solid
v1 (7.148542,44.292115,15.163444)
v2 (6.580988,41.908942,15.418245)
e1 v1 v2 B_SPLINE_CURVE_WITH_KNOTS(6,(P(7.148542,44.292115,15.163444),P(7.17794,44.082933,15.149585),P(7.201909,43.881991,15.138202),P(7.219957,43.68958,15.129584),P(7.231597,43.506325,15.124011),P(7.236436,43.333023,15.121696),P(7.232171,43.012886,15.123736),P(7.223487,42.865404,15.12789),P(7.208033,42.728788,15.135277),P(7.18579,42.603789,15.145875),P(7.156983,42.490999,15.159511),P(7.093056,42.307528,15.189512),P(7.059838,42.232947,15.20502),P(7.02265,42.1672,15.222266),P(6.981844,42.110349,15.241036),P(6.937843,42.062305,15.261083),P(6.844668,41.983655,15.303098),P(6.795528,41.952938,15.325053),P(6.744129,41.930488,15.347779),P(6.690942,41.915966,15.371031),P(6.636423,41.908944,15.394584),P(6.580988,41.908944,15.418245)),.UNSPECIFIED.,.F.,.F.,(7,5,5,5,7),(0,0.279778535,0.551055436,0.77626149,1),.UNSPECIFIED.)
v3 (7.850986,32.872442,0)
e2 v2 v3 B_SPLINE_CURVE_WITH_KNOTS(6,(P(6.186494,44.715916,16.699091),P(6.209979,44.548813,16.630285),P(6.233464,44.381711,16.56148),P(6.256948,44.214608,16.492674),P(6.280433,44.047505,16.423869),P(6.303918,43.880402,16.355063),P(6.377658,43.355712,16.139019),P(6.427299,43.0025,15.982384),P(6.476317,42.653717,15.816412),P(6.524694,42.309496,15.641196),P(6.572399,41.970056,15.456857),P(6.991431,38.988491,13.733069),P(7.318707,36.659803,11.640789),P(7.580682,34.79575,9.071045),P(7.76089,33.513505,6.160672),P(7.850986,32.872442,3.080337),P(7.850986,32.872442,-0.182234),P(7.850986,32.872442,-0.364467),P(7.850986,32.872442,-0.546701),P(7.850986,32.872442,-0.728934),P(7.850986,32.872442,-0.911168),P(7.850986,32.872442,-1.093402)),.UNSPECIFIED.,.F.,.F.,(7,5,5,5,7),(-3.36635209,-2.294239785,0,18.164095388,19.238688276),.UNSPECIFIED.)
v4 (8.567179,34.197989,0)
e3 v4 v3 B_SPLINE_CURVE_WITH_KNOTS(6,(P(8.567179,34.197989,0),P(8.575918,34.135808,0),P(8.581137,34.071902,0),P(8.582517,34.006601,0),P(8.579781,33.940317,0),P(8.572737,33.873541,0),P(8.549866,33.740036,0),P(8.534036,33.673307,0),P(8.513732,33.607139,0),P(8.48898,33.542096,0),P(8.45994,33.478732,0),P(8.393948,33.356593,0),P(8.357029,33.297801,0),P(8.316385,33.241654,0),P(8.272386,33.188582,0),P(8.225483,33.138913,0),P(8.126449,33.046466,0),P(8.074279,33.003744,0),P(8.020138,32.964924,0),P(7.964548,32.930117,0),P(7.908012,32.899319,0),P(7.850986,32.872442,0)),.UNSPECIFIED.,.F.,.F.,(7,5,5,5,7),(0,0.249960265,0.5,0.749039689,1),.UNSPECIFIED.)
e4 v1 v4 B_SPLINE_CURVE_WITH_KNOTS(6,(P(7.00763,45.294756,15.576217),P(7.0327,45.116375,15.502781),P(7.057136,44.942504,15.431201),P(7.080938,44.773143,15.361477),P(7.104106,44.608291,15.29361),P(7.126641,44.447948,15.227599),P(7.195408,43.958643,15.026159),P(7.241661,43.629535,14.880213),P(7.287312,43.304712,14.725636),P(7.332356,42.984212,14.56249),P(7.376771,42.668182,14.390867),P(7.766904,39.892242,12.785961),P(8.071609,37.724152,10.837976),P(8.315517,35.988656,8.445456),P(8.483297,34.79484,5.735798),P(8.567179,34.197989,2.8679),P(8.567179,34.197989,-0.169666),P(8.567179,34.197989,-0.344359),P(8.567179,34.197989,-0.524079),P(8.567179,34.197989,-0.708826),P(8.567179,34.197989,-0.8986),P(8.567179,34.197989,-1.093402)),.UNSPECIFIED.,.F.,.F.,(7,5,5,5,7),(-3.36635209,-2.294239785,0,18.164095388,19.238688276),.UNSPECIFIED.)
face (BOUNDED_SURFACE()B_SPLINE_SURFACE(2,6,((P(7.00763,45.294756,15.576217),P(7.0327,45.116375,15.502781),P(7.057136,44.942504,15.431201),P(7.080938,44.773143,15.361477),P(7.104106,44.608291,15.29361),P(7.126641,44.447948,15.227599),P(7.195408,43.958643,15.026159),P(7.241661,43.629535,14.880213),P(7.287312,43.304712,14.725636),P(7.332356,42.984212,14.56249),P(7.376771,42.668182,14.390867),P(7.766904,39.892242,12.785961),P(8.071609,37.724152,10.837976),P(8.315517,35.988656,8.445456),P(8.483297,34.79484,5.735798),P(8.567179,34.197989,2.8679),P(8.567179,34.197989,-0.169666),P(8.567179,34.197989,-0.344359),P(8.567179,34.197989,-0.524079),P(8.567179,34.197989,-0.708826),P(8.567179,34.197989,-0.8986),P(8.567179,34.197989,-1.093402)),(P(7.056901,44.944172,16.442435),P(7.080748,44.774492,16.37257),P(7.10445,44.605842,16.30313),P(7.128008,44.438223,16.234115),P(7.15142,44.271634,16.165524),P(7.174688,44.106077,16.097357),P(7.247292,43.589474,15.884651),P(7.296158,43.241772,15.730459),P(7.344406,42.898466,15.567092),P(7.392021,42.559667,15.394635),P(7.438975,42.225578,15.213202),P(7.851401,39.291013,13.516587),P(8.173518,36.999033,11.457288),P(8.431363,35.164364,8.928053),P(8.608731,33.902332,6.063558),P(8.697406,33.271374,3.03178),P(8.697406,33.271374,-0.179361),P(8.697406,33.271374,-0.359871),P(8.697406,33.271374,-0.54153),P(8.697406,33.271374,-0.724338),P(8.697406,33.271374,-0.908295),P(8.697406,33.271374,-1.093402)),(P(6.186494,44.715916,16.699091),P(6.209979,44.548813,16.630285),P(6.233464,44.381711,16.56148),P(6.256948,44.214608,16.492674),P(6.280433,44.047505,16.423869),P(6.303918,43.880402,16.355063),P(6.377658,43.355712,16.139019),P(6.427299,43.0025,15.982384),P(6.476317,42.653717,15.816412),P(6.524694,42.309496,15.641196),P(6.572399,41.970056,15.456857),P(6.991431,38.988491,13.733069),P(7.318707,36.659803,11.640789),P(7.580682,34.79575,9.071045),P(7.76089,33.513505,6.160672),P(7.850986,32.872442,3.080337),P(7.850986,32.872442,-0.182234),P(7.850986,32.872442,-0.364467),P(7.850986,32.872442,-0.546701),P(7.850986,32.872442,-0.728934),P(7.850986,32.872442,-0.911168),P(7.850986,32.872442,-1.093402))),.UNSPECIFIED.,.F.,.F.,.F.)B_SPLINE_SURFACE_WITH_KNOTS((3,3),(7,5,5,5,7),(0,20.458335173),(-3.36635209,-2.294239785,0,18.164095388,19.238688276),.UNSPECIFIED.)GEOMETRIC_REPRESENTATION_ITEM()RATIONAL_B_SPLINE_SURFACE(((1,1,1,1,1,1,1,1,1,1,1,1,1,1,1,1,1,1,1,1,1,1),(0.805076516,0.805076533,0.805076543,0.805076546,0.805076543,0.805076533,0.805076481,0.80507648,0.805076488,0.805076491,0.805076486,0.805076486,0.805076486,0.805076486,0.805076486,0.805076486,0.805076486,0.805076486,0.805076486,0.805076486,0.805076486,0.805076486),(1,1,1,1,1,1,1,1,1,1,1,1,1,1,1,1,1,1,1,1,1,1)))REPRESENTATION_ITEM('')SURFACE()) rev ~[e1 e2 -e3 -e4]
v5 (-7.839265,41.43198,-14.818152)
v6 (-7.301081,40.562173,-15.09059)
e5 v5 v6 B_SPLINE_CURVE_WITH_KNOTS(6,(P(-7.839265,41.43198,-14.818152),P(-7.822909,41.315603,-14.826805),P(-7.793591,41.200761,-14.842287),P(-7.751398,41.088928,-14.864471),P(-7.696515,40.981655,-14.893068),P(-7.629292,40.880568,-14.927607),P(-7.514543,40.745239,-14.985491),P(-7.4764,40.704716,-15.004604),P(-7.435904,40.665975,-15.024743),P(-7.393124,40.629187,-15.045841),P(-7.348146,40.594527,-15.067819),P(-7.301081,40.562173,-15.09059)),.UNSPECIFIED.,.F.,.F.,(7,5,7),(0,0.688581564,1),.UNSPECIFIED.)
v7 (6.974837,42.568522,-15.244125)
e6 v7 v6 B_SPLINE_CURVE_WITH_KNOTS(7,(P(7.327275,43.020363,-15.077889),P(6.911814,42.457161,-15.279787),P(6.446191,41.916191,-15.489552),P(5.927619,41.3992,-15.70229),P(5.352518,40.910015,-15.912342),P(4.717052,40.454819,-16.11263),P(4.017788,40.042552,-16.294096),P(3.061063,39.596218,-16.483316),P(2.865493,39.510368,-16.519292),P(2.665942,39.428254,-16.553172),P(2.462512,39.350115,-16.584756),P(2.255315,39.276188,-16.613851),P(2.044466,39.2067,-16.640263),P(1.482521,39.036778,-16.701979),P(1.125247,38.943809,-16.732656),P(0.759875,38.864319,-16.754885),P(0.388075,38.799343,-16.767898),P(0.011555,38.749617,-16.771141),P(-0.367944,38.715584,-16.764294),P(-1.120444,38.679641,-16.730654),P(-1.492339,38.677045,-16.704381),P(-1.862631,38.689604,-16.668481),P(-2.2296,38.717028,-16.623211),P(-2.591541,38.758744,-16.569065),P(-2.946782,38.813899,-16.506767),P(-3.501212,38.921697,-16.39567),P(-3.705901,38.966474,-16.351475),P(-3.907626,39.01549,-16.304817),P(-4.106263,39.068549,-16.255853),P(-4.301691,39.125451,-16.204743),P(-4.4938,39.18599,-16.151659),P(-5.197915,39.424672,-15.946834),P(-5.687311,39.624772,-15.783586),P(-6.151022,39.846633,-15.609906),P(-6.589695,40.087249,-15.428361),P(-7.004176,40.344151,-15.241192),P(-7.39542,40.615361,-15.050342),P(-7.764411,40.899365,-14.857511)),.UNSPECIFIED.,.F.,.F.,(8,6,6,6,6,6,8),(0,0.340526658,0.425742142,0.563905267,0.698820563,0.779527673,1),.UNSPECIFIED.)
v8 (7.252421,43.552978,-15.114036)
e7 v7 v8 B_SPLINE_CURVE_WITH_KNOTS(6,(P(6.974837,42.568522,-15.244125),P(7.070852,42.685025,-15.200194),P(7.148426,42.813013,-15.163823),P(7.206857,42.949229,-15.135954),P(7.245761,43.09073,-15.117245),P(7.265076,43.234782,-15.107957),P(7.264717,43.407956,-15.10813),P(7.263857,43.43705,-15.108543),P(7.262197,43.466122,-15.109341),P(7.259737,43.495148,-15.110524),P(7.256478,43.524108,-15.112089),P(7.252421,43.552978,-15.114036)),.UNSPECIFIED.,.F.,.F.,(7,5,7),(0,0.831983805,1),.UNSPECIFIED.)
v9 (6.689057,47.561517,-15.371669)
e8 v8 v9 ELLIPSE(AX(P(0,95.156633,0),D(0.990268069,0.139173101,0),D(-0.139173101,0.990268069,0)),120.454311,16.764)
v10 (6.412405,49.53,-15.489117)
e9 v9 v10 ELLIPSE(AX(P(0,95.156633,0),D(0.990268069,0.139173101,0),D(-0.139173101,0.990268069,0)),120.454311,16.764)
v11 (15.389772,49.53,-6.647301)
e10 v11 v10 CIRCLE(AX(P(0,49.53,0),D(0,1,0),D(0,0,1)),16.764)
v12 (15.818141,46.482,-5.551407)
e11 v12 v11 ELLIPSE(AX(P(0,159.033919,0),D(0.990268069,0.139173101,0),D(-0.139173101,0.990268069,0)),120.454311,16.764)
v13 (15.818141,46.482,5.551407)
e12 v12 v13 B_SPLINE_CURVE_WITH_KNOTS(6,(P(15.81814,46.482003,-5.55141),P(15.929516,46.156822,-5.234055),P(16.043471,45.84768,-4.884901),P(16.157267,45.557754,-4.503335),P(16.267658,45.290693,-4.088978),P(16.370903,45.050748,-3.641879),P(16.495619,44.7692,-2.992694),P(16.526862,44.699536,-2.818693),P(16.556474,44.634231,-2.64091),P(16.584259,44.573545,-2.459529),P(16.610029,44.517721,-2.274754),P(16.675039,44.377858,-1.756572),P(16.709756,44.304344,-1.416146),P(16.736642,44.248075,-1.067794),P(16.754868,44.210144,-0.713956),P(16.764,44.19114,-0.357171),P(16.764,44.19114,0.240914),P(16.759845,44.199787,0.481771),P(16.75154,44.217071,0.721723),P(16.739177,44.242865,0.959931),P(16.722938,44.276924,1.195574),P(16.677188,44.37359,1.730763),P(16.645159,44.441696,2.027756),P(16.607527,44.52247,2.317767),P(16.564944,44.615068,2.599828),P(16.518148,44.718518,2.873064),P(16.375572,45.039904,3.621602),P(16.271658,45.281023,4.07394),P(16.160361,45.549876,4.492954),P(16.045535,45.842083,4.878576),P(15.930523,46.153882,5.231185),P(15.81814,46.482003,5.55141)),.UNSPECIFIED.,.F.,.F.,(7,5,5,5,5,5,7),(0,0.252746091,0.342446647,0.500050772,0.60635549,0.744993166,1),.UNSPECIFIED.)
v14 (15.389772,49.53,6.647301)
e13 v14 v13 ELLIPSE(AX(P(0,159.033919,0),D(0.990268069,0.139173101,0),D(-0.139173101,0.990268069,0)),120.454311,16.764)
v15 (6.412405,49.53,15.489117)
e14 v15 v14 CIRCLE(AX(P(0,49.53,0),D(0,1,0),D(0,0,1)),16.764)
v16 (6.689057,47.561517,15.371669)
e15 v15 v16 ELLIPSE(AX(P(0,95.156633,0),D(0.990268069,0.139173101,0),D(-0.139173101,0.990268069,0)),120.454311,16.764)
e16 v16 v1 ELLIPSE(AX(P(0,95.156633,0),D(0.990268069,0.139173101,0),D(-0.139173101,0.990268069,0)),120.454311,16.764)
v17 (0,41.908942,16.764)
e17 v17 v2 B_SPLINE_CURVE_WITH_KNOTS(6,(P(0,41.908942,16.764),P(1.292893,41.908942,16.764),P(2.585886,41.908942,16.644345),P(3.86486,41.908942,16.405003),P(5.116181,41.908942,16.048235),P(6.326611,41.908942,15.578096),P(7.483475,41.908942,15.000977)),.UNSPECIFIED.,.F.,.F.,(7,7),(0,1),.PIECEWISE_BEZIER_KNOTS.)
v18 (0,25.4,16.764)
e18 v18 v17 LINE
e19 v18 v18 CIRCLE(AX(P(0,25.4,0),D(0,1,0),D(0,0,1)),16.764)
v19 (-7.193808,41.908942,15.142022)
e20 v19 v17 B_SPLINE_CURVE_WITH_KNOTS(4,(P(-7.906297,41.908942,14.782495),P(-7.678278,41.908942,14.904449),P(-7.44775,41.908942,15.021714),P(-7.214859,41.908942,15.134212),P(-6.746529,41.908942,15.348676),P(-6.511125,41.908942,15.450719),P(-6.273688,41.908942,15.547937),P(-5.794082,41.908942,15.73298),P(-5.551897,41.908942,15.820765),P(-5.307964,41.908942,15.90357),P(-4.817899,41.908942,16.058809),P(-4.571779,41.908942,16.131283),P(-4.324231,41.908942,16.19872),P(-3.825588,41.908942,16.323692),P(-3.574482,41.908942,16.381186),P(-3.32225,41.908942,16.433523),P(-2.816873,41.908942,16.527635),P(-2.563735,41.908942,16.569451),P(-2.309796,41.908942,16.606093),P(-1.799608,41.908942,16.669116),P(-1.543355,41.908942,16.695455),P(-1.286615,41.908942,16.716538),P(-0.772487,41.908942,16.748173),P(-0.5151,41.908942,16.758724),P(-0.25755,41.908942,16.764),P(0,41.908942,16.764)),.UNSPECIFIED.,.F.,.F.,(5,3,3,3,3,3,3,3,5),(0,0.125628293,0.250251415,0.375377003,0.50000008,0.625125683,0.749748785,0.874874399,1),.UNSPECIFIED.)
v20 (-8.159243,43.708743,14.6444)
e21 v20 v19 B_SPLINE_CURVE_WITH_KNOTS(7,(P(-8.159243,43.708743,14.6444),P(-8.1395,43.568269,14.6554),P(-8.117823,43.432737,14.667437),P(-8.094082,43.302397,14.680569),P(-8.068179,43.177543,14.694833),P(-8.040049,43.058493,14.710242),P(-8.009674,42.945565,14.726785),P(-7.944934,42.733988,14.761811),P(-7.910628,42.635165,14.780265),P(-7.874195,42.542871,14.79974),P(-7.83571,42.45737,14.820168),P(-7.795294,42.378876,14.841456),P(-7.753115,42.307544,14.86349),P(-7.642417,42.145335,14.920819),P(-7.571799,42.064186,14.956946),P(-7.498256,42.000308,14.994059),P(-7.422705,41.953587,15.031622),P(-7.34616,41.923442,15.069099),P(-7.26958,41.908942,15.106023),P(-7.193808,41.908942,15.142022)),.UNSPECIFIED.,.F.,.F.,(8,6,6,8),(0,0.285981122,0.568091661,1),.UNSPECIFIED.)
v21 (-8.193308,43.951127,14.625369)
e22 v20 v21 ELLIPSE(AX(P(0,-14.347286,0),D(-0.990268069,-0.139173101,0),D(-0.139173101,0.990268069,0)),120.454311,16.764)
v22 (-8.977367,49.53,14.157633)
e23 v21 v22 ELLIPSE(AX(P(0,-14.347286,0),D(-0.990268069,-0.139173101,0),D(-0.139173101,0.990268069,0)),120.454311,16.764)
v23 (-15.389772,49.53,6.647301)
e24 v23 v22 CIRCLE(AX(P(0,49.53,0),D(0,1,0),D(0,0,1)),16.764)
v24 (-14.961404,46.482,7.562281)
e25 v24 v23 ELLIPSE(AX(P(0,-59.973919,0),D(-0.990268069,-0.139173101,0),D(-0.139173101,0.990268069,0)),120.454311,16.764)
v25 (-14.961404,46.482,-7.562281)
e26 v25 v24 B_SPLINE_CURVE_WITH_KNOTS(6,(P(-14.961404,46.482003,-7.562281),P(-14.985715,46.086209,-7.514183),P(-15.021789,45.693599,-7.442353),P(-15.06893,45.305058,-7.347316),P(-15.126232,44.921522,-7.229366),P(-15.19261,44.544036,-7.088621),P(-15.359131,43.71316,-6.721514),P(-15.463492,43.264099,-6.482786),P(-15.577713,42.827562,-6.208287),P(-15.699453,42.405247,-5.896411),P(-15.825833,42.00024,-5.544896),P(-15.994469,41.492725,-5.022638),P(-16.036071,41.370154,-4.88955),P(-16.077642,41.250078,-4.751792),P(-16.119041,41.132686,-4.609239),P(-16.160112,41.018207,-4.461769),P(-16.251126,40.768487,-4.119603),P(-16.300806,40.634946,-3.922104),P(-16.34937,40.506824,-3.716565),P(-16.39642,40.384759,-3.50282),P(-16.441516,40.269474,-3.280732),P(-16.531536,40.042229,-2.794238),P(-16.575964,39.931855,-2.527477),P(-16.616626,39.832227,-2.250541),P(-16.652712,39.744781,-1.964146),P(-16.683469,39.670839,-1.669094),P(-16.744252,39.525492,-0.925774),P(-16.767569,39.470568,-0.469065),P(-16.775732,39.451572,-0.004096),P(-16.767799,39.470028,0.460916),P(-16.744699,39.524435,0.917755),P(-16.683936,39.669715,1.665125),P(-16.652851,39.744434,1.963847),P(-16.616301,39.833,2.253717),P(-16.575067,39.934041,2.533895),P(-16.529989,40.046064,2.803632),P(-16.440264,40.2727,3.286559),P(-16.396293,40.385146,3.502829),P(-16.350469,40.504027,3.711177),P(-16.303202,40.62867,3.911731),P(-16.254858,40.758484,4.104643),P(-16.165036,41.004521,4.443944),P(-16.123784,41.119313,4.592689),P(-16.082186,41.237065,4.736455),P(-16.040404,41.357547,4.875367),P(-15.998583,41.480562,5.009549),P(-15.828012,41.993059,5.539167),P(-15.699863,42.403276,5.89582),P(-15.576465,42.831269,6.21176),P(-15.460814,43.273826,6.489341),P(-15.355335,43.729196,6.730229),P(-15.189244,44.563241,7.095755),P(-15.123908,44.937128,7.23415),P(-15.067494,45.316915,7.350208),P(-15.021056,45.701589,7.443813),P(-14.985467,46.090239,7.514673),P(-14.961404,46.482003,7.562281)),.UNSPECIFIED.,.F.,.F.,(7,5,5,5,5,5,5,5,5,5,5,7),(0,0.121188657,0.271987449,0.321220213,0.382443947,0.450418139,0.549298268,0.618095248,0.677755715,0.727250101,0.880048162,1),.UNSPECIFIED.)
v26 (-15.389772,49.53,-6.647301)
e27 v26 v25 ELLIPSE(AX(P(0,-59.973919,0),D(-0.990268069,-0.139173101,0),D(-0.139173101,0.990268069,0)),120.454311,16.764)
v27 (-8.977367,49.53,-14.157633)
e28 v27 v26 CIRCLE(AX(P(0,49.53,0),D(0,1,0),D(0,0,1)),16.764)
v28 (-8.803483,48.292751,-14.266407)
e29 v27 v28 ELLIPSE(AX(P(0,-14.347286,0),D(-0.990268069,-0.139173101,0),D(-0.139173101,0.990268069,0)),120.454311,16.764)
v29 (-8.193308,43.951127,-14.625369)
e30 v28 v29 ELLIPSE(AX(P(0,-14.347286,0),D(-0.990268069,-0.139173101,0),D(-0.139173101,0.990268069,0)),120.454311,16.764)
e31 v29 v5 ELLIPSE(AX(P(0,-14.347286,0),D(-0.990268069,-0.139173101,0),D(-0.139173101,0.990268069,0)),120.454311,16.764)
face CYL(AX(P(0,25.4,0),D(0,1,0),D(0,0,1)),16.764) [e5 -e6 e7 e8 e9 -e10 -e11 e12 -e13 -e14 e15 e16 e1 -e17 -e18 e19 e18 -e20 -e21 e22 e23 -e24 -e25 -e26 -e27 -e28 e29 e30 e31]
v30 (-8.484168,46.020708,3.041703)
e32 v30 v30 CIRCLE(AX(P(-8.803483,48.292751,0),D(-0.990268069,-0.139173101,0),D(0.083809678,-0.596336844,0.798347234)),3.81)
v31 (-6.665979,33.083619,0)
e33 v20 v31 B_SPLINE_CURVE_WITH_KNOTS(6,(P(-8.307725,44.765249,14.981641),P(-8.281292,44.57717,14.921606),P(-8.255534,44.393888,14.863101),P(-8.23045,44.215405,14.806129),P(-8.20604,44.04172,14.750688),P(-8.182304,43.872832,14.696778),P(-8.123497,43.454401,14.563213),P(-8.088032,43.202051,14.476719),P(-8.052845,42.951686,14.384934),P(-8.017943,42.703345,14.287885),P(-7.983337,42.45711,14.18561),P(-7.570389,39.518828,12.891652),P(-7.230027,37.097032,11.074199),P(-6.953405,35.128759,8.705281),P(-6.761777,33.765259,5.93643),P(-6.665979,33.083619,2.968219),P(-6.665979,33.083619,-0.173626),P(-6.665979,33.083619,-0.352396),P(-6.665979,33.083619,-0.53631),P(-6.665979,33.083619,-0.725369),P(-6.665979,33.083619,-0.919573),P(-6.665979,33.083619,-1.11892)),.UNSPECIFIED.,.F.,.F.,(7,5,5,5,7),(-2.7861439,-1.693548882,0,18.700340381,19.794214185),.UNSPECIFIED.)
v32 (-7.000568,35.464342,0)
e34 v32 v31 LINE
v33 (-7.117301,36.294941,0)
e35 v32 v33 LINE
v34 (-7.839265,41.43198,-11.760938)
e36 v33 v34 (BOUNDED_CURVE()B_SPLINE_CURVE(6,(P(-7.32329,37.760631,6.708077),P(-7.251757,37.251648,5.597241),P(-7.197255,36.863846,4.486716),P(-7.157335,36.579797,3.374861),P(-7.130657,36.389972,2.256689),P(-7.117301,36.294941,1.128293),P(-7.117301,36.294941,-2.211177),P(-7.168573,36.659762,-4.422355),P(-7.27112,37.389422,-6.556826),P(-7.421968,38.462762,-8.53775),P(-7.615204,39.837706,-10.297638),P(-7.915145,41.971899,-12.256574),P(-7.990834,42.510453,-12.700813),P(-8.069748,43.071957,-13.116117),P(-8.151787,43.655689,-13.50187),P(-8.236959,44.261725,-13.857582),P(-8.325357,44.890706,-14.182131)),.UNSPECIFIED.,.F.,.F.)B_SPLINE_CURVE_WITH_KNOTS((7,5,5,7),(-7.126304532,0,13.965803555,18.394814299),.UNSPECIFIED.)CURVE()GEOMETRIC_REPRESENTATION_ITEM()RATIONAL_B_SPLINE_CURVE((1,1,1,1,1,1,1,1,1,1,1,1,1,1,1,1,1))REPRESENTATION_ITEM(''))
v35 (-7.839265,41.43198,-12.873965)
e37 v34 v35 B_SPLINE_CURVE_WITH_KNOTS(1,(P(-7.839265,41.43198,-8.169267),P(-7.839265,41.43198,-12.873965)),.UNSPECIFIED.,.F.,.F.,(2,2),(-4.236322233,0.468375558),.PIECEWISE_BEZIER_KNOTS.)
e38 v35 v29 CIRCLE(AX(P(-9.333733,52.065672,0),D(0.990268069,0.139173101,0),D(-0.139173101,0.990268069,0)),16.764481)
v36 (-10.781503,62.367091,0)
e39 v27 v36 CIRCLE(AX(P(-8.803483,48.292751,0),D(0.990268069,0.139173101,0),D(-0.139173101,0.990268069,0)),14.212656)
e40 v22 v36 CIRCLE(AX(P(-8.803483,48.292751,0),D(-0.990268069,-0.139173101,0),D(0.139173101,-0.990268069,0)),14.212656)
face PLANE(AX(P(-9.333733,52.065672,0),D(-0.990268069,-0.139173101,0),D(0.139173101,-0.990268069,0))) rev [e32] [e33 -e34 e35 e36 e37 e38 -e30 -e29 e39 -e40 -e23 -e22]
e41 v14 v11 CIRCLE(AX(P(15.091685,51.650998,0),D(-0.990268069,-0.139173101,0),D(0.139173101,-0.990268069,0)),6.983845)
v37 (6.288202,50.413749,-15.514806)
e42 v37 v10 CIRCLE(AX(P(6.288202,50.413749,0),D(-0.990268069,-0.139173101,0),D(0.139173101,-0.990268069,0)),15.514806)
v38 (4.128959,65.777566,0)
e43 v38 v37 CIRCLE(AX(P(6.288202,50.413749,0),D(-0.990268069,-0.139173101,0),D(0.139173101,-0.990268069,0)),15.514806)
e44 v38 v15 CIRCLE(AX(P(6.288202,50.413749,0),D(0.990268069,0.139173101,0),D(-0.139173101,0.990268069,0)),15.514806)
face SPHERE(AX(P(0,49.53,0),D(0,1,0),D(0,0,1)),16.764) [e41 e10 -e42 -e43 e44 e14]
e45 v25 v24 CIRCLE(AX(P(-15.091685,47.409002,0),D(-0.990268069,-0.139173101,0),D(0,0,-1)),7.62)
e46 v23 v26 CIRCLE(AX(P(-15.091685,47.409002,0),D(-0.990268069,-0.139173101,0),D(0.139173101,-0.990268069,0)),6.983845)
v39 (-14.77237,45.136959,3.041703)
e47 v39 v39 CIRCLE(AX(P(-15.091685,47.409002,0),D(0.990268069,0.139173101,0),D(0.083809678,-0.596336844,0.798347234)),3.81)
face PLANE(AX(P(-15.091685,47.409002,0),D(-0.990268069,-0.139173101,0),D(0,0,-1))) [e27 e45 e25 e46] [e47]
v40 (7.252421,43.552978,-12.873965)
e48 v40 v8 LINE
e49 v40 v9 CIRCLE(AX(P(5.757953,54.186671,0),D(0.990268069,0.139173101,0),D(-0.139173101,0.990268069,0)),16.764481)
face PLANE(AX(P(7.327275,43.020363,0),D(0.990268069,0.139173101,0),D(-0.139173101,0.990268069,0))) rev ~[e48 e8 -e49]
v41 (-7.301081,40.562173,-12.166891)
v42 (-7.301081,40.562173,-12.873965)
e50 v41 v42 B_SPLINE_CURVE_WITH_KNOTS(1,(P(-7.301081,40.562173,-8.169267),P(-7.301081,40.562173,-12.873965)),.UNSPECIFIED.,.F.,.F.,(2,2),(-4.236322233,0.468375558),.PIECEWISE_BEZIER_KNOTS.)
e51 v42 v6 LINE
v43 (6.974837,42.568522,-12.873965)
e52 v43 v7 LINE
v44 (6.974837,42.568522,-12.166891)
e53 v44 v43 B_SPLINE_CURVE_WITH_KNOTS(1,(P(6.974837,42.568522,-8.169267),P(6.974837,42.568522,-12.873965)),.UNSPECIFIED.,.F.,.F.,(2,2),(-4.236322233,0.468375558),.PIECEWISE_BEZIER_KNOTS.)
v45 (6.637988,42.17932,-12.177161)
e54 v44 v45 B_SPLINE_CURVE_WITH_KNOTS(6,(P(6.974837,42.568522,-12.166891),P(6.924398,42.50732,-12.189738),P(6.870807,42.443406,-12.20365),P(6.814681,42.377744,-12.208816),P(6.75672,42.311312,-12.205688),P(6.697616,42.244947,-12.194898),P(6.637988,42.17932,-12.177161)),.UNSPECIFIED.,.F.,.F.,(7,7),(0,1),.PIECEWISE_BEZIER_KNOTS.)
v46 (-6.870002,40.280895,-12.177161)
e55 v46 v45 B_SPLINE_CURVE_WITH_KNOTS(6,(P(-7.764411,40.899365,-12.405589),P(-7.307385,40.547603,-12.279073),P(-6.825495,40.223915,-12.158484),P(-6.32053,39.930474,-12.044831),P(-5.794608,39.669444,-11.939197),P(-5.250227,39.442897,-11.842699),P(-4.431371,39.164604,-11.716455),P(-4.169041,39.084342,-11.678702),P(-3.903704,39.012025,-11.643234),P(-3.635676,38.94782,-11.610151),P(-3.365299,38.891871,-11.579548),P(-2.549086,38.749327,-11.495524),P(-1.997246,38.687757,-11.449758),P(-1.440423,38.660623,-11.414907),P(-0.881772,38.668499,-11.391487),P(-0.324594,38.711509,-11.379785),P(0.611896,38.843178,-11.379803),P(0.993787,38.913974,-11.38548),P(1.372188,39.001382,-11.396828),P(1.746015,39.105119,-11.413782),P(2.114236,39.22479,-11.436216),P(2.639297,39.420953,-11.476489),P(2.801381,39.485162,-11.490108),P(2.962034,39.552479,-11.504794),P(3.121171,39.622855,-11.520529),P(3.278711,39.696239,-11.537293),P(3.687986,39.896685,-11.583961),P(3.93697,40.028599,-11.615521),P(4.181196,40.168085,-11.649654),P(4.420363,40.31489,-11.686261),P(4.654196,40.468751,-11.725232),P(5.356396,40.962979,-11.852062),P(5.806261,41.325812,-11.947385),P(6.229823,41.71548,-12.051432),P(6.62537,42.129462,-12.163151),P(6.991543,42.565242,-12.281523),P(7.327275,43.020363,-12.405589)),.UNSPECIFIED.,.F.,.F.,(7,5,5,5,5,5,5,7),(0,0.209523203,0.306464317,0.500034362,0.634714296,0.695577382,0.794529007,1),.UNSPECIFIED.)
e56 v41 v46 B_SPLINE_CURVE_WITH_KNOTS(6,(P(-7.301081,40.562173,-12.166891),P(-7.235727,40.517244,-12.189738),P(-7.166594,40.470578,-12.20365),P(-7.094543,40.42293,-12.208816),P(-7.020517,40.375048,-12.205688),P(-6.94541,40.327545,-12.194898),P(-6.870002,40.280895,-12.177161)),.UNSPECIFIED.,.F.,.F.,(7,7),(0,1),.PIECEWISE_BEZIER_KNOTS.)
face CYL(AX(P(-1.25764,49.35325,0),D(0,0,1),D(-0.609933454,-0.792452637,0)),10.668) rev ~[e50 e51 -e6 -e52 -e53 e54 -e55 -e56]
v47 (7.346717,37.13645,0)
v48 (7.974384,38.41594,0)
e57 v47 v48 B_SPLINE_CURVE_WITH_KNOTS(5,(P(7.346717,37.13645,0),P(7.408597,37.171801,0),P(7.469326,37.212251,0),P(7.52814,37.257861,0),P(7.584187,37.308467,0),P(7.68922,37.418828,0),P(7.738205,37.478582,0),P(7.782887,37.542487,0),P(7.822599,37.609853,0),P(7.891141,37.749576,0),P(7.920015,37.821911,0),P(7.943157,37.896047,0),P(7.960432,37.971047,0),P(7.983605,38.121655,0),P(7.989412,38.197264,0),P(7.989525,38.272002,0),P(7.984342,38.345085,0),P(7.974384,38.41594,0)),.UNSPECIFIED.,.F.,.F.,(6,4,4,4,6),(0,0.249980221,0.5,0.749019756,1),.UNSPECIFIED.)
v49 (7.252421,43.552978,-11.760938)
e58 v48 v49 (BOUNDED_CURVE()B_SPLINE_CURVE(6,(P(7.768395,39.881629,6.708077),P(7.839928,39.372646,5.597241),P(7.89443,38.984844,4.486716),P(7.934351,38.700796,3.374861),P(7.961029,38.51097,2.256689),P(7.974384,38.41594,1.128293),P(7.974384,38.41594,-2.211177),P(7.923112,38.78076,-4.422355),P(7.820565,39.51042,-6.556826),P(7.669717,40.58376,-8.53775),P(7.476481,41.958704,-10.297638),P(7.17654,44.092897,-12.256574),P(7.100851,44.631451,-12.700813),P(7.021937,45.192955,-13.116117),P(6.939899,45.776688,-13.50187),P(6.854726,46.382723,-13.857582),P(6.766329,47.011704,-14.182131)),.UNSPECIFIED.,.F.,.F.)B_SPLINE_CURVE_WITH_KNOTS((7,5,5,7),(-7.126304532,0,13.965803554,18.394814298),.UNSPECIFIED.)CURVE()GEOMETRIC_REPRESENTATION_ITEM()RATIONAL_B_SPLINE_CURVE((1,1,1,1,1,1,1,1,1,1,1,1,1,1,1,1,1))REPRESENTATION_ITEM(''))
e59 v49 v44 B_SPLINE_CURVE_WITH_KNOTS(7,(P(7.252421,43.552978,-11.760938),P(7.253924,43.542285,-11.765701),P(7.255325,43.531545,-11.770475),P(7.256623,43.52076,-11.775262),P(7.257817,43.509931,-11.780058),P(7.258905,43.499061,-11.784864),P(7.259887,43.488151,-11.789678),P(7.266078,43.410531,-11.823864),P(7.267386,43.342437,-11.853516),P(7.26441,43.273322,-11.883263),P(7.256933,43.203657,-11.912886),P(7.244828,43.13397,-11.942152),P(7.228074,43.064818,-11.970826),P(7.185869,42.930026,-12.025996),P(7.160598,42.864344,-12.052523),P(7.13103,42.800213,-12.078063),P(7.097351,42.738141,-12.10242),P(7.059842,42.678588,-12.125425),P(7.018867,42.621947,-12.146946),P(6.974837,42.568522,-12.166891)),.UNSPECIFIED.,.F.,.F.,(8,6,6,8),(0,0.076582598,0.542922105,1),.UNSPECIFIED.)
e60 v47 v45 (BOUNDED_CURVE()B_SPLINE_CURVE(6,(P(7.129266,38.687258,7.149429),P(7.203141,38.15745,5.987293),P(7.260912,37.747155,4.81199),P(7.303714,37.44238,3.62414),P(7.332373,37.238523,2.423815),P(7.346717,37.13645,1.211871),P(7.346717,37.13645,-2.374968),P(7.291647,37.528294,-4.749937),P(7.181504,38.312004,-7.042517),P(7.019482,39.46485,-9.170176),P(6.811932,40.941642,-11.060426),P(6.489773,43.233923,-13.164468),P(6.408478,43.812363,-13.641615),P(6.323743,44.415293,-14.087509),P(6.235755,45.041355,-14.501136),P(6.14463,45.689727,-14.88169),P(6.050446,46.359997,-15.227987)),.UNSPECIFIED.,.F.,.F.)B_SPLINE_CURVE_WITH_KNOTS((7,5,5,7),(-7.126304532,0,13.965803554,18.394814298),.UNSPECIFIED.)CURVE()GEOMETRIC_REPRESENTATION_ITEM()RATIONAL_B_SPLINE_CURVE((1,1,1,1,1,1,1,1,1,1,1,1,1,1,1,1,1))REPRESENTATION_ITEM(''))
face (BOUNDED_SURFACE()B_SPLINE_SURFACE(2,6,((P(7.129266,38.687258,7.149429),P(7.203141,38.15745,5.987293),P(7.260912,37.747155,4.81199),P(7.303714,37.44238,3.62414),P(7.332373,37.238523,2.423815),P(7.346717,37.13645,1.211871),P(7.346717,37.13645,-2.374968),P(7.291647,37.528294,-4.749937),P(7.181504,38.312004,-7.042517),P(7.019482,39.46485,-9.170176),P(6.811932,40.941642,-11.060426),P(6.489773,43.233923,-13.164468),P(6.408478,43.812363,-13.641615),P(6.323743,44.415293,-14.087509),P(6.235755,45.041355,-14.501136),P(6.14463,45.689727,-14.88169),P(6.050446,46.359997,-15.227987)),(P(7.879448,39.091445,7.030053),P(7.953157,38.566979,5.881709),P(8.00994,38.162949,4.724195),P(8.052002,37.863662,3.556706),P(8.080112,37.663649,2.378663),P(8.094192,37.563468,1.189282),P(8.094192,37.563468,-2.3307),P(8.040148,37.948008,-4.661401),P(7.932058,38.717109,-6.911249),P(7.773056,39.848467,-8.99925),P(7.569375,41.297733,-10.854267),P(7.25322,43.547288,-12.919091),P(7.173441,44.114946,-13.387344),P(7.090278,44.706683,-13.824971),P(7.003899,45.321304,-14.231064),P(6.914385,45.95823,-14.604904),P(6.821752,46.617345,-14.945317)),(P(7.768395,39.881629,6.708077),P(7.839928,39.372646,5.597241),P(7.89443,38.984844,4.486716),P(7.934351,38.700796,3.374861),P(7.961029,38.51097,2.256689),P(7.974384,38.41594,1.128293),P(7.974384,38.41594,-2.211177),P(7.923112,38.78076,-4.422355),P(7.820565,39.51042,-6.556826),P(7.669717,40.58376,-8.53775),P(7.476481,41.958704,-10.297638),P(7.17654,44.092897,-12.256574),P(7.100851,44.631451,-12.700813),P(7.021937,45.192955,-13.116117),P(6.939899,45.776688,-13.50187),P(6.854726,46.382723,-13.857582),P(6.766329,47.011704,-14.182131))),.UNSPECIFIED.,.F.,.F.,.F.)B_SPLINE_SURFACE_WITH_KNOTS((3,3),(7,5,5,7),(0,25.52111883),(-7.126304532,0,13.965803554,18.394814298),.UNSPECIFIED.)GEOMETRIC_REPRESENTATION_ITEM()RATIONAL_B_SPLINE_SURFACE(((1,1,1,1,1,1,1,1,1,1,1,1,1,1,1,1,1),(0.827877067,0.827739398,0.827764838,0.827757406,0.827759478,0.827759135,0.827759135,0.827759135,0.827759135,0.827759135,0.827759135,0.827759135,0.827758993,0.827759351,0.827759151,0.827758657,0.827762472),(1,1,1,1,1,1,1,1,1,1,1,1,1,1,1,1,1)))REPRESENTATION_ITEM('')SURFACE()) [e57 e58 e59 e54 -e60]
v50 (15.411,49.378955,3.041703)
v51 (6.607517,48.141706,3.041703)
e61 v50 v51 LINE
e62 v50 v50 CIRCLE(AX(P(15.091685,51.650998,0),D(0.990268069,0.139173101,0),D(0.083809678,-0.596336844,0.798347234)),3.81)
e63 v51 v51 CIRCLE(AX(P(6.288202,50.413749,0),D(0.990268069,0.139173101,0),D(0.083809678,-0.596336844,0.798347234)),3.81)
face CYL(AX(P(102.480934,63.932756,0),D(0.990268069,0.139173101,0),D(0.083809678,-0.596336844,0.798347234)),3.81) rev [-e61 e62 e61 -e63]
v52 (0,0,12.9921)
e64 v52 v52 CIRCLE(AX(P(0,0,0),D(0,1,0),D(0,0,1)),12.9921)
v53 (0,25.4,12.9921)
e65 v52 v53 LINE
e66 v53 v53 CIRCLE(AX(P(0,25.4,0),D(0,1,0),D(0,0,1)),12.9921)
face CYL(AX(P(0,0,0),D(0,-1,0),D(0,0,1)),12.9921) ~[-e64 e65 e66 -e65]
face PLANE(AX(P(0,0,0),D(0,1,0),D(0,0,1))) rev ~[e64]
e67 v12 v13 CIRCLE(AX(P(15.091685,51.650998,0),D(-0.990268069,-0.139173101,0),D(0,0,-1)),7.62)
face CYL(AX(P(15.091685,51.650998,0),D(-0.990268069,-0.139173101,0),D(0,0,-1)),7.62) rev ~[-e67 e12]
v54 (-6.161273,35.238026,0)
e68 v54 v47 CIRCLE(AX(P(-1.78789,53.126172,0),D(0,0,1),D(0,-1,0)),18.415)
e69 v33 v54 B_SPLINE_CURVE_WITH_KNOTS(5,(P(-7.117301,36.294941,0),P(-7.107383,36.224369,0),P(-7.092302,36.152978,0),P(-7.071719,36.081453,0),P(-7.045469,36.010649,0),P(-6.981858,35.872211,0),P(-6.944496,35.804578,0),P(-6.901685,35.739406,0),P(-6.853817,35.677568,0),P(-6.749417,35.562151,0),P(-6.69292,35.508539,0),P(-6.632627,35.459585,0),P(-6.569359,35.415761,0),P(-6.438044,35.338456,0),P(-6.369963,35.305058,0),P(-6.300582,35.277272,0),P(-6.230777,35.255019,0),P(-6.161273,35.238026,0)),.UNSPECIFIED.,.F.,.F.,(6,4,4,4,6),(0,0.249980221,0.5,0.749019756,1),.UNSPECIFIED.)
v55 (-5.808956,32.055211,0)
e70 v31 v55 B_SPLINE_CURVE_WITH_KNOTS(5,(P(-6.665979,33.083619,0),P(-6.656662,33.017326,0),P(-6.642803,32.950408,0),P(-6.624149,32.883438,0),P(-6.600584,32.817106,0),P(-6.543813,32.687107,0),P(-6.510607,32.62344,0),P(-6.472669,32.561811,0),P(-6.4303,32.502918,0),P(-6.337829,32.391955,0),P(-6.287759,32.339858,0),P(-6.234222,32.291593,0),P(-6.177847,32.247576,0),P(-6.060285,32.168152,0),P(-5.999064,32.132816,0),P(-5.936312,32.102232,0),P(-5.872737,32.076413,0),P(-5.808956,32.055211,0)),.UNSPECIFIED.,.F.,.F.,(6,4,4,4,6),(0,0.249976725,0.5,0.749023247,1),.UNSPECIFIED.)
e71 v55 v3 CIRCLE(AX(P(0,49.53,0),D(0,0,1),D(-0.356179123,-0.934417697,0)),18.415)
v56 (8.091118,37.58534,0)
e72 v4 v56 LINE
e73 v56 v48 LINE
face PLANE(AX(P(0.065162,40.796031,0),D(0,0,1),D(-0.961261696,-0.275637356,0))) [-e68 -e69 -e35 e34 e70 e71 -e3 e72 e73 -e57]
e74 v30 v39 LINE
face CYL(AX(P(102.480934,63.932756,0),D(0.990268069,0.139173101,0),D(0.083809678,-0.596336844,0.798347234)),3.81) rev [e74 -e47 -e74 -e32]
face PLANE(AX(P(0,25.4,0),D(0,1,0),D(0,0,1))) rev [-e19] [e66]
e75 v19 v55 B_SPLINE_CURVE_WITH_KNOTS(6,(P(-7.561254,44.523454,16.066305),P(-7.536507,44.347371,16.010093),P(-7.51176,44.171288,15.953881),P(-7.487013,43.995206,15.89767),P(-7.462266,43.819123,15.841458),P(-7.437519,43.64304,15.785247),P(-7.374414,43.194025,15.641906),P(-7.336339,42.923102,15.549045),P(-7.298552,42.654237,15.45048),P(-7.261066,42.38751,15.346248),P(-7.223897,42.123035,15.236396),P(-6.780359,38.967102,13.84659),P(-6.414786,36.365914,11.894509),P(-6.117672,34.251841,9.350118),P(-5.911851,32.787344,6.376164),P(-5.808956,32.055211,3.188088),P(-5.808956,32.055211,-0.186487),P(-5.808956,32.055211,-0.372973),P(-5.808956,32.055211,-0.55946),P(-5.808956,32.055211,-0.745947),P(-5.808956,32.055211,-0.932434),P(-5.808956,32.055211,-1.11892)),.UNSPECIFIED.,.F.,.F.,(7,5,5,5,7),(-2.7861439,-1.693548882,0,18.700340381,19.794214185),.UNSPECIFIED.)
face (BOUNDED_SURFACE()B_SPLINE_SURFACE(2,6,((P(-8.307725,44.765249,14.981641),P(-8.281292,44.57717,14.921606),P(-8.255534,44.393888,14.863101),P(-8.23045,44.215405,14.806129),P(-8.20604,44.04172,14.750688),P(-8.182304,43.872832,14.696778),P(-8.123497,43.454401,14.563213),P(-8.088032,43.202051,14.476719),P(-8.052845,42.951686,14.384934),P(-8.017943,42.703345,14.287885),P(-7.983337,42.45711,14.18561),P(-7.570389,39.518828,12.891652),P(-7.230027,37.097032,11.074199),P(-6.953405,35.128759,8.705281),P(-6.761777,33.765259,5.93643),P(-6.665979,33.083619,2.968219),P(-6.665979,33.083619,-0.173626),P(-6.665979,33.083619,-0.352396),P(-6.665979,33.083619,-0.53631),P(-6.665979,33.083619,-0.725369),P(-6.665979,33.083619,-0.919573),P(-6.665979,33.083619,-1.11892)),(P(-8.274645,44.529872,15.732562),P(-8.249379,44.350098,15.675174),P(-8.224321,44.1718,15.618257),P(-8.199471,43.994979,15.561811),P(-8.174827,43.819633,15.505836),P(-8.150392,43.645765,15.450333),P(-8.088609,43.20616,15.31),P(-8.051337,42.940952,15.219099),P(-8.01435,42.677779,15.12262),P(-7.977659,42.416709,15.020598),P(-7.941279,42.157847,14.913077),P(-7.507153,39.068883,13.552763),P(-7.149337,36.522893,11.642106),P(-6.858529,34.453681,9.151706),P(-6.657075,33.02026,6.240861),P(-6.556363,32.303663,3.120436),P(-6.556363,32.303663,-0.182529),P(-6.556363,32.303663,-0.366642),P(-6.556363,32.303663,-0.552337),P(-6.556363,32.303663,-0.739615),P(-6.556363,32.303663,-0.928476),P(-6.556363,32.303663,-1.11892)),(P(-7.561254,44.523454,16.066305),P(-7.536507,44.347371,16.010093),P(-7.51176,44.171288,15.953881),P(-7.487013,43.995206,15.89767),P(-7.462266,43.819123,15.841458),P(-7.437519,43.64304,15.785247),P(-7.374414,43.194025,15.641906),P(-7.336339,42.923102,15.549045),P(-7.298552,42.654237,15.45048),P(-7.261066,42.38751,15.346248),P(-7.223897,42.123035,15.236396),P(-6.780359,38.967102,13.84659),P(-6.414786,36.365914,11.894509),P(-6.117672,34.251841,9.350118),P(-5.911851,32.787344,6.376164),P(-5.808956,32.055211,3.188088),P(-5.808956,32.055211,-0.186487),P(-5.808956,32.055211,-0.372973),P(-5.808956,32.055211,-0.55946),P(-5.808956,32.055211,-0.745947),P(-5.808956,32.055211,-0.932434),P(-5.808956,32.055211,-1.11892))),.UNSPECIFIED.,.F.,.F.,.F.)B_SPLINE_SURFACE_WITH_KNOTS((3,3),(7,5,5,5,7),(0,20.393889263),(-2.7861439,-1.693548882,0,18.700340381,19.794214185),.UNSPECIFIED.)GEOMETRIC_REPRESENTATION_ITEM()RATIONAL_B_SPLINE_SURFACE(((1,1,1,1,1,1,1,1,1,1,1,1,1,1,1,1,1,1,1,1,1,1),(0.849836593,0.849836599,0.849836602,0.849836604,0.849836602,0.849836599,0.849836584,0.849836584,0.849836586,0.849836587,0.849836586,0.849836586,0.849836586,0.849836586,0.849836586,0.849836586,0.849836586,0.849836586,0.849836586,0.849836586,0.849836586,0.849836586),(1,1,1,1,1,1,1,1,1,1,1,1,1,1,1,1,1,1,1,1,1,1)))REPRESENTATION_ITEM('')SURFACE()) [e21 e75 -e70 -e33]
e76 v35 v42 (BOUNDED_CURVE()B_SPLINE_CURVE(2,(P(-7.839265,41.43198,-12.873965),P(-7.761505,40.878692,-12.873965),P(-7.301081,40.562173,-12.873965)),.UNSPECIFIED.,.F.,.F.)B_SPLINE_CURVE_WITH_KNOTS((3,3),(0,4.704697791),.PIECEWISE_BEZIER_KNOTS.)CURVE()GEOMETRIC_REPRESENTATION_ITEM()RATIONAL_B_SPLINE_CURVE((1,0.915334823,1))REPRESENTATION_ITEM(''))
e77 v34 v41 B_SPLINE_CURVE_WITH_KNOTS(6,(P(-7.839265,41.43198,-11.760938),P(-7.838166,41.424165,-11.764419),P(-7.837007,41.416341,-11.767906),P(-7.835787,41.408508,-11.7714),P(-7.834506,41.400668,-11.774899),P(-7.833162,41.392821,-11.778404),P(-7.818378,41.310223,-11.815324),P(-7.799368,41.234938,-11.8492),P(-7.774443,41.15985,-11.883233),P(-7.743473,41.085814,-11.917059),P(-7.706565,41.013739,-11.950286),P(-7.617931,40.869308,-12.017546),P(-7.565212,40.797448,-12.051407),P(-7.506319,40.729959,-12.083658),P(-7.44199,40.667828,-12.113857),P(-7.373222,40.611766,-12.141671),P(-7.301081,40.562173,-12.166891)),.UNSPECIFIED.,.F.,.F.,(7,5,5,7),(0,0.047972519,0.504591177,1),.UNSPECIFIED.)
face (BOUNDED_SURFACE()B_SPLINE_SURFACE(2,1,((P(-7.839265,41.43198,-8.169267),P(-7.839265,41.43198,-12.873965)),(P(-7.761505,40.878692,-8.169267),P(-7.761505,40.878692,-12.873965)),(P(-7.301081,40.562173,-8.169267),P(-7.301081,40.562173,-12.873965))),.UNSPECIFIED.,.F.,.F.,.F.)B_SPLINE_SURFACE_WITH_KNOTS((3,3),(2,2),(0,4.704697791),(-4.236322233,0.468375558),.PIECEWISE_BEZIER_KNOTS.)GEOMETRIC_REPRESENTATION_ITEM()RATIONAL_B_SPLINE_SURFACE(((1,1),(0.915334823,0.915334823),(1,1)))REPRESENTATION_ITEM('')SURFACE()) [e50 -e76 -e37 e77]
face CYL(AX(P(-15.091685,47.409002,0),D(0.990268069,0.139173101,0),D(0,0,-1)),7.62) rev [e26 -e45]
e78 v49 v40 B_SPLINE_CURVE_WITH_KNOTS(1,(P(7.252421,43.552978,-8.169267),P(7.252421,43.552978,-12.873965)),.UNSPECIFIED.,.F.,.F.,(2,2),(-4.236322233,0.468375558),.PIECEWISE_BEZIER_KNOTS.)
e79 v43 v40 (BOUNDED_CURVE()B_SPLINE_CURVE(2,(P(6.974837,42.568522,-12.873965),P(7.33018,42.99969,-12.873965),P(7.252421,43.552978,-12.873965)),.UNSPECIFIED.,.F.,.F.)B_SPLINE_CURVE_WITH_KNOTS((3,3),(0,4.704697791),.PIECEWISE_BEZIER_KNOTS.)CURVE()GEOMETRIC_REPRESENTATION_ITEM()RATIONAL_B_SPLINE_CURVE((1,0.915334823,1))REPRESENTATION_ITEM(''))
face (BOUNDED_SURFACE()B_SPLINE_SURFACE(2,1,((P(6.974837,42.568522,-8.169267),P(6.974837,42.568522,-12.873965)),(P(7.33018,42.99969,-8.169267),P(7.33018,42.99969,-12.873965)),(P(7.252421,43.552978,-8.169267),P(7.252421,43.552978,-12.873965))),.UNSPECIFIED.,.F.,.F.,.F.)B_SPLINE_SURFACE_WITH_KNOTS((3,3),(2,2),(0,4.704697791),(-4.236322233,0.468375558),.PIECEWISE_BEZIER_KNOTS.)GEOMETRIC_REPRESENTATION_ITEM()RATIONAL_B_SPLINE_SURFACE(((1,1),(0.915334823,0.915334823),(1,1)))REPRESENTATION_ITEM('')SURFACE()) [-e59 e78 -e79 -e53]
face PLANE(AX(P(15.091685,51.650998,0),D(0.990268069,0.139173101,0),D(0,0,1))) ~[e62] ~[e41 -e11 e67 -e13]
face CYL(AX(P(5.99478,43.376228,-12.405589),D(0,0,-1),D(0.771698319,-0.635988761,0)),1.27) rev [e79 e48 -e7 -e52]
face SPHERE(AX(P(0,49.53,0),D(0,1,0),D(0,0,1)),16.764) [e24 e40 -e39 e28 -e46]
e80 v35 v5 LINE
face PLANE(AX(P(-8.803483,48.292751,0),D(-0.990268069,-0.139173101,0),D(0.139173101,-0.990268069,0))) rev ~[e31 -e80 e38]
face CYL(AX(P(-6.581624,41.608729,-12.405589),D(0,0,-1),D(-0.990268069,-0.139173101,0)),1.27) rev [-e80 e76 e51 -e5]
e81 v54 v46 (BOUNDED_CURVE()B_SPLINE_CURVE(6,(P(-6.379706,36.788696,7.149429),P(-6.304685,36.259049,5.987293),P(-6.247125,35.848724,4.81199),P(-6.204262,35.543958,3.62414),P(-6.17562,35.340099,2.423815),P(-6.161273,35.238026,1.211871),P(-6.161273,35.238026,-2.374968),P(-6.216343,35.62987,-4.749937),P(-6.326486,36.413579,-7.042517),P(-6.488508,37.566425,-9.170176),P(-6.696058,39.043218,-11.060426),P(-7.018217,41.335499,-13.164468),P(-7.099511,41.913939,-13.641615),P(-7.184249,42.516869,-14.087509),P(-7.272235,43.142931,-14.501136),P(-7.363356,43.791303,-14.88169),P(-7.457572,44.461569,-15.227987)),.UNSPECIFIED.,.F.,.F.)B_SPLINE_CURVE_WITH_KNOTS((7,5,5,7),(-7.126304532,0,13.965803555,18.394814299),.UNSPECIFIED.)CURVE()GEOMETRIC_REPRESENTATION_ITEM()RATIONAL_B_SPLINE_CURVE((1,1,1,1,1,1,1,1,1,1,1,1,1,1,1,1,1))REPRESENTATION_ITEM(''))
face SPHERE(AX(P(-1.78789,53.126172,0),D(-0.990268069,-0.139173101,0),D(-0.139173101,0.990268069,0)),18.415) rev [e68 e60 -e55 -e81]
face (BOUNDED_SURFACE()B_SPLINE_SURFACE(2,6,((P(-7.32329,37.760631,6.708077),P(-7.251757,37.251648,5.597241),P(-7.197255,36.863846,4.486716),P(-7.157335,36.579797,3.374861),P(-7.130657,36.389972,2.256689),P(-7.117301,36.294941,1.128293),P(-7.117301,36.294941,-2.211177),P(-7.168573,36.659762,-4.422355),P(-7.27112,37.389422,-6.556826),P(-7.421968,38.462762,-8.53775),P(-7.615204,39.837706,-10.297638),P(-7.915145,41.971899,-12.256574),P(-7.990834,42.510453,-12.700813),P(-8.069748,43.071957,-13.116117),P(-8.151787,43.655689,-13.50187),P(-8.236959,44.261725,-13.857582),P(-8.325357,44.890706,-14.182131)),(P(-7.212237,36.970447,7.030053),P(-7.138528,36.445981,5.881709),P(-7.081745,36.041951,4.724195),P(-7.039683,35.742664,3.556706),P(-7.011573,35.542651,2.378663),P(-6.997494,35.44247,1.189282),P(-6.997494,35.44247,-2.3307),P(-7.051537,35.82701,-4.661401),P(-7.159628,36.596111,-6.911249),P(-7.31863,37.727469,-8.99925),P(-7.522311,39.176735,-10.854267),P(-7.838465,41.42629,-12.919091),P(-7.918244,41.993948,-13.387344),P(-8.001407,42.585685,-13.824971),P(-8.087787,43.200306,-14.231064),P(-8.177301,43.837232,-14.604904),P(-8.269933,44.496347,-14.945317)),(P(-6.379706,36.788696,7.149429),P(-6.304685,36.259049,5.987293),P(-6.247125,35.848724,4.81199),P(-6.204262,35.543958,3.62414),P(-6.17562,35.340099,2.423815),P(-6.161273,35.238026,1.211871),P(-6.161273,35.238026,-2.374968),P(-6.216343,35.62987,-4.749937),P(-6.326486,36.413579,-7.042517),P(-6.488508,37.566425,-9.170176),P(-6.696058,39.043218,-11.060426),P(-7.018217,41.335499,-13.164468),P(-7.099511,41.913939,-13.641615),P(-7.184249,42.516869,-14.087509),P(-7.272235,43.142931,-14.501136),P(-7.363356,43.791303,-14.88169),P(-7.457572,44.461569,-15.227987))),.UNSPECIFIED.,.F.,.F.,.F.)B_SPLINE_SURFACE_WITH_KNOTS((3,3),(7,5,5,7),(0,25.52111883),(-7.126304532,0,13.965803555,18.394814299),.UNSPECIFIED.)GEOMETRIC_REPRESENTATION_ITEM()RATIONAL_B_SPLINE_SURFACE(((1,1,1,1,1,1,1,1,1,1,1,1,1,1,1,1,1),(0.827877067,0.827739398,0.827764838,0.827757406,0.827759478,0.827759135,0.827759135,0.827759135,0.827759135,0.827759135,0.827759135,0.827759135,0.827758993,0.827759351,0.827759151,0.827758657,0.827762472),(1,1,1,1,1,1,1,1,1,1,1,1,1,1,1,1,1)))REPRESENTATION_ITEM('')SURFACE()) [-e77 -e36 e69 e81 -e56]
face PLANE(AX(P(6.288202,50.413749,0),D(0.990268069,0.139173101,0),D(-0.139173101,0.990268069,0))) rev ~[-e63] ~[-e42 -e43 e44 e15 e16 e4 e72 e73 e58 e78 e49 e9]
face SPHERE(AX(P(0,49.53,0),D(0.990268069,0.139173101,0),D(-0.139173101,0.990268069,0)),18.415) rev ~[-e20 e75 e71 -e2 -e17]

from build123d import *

# Parameters (mm, degrees)
SKETCH1_R                     = 12.9921
BOSS_EXTRUDE1_DEPTH           = 25.4
CUT_EXTRUDE1_DEPTH            = 103.48807232
CUT_EXTRUDE1_DEPTH_BACK       = 103.48807232
SKETCH3_R                     = 3.81
CUT_REVOLVE10_ANGLE           = 90
CUT_REVOLVE10_OTHER_WAY_ANGLE = 180
CUT_EXTRUDE4_DEPTH            = 32.004
FILLET1_R                     = 1.27
SKETCH15_R                    = 7.62
CUT_EXTRUDE5_DEPTH            = 10.16


with BuildPart() as part:
    # Sketch1 → Boss-Extrude1 (new body)
    with BuildSketch(Plane(origin=(0, 0, 0), x_dir=(1, 0, 0), z_dir=(0, 1, 0))):
        Circle(SKETCH1_R)
    extrude(amount=BOSS_EXTRUDE1_DEPTH)

    # Sketch2 → Revolve1 (revolve)
    with BuildSketch(Plane(origin=(0, 0, 0), x_dir=(0, 0, -1), z_dir=(1, 0, 0))):
        with BuildLine():
            Line((-16.764, 25.4), (-16.764, 49.53))
            ThreePointArc((-16.764, 49.53), (-11.85393808, 61.38393808), (0, 66.294))
            Line((0, 66.294), (0, 25.4))
            Line((0, 25.4), (-16.764, 25.4))
        make_face()
    revolve(axis=Axis((0, 25.4, 0), (0, 1, 0)))

    # Sketch3 → Cut-Extrude1 (cut, two sides: drawn at the far end of the back side and taken through both)
    with BuildSketch(Plane(origin=(-6.855604404, 98.310160002, 0), x_dir=(0, 0, -1), z_dir=(-0.9902680687415708, -0.1391731009600624, 0)).offset(-CUT_EXTRUDE1_DEPTH_BACK)):
        with Locations((0, 49.259550562)):
            Circle(SKETCH3_R)
    extrude(amount=CUT_EXTRUDE1_DEPTH + CUT_EXTRUDE1_DEPTH_BACK, mode=Mode.SUBTRACT)

    # Sketch11 → Cut-Revolve10 (revolve, cut)
    with BuildSketch(Plane.XY):
        with BuildLine():
            Line((-8.803483131, 48.292751132), (-11.047927713, 64.262804154))
            ThreePointArc((-11.047927713, 64.262804154), (-3.937784002, 67.51905451), (3.88252071, 67.531062689))
            Line((3.88252071, 67.531062689), (6.288202237, 50.413749191))
            Line((6.288202237, 50.413749191), (-8.803483131, 48.292751132))
        make_face()
    revolve(axis=Axis((17.272404581, 51.957478157, 0), (-0.9902680687415708, -0.1391731009600623, 0)), revolution_arc=CUT_REVOLVE10_ANGLE, mode=Mode.SUBTRACT)

    # Sketch11 → Cut-Revolve10 other way (revolve, cut)
    with BuildSketch(Plane.XY):
        with BuildLine():
            Line((-8.803483131, 48.292751132), (-11.047927713, 64.262804154))
            ThreePointArc((-11.047927713, 64.262804154), (-3.937784002, 67.51905451), (3.88252071, 67.531062689))
            Line((3.88252071, 67.531062689), (6.288202237, 50.413749191))
            Line((6.288202237, 50.413749191), (-8.803483131, 48.292751132))
        make_face()
    revolve(axis=Axis((17.272404581, 51.957478157, 0), (0.9902680687415708, 0.1391731009600623, 0)), revolution_arc=CUT_REVOLVE10_OTHER_WAY_ANGLE, mode=Mode.SUBTRACT)

    # Sketch13 → Cut-Revolve11 (revolve, cut)
    with BuildSketch(Plane.XY):
        with BuildLine():
            Line((-9.333732646, 52.065672474), (5.757952722, 54.186670533))
            Line((5.757952722, 54.186670533), (3.424787908, 70.78800081))
            ThreePointArc((3.424787908, 70.78800081), (-4.350762616, 71.36195799), (-11.66689746, 68.667002751))
            Line((-11.66689746, 68.667002751), (-9.333732646, 52.065672474))
        make_face()
    revolve(axis=Axis((-9.333732646, 52.065672474, 0), (0.9902680687415707, 0.1391731009600627, 0)), mode=Mode.SUBTRACT)

    # Sketch14 → Cut-Extrude4 (cut)
    with BuildSketch(Plane.XY):
        with BuildLine():
            Line((-8.803483131, 48.292751132), (-7.764410533, 40.899365431))
            ThreePointArc((-7.764410533, 40.899365431), (0.227058194, 38.789070404), (7.327274834, 43.020363489))
            Line((7.327274834, 43.020363489), (6.288202237, 50.413749191))
            Line((6.288202237, 50.413749191), (-8.803483131, 48.292751132))
        make_face()
    extrude(amount=-CUT_EXTRUDE4_DEPTH, mode=Mode.SUBTRACT)

    # Fillet1
    fillet1_edges = [part.edges().sort_by_distance(p)[0] for p in [
        (-6.92582295, 34.932504728, 8.835062719),
        (-7.200056805, 36.883780001, -6.782727573),
        (-7.764410533, 40.899365431, -13.631549898),
        (7.327274834, 43.020363489, -13.74173908),
        (7.891628562, 39.00477806, -6.782727573),
        (8.369397705, 35.60527397, 8.669914189),
    ]]
    fillet(fillet1_edges, radius=FILLET1_R)

    # Sketch15 → Cut-Extrude5 (cut)
    with BuildSketch(Plane(origin=(-8.265526251, -1.161643959, 0), x_dir=(0, 0, -1), z_dir=(-0.9902680687415708, -0.1391731009600624, 0))):
        with Locations((0, -49.047977445)):
            Circle(SKETCH15_R)
    cut_extrude5 = extrude(amount=CUT_EXTRUDE5_DEPTH, mode=Mode.SUBTRACT)

    # Mirror1: Cut-Extrude5 across plane
    add(cut_extrude5.mirror(Plane(origin=(6.826159117, 0.9593541, 0), x_dir=(0, 0, 1), z_dir=(-0.9902680687415707, -0.13917310096006238, 0))), mode=Mode.SUBTRACT)


solid = part.part
